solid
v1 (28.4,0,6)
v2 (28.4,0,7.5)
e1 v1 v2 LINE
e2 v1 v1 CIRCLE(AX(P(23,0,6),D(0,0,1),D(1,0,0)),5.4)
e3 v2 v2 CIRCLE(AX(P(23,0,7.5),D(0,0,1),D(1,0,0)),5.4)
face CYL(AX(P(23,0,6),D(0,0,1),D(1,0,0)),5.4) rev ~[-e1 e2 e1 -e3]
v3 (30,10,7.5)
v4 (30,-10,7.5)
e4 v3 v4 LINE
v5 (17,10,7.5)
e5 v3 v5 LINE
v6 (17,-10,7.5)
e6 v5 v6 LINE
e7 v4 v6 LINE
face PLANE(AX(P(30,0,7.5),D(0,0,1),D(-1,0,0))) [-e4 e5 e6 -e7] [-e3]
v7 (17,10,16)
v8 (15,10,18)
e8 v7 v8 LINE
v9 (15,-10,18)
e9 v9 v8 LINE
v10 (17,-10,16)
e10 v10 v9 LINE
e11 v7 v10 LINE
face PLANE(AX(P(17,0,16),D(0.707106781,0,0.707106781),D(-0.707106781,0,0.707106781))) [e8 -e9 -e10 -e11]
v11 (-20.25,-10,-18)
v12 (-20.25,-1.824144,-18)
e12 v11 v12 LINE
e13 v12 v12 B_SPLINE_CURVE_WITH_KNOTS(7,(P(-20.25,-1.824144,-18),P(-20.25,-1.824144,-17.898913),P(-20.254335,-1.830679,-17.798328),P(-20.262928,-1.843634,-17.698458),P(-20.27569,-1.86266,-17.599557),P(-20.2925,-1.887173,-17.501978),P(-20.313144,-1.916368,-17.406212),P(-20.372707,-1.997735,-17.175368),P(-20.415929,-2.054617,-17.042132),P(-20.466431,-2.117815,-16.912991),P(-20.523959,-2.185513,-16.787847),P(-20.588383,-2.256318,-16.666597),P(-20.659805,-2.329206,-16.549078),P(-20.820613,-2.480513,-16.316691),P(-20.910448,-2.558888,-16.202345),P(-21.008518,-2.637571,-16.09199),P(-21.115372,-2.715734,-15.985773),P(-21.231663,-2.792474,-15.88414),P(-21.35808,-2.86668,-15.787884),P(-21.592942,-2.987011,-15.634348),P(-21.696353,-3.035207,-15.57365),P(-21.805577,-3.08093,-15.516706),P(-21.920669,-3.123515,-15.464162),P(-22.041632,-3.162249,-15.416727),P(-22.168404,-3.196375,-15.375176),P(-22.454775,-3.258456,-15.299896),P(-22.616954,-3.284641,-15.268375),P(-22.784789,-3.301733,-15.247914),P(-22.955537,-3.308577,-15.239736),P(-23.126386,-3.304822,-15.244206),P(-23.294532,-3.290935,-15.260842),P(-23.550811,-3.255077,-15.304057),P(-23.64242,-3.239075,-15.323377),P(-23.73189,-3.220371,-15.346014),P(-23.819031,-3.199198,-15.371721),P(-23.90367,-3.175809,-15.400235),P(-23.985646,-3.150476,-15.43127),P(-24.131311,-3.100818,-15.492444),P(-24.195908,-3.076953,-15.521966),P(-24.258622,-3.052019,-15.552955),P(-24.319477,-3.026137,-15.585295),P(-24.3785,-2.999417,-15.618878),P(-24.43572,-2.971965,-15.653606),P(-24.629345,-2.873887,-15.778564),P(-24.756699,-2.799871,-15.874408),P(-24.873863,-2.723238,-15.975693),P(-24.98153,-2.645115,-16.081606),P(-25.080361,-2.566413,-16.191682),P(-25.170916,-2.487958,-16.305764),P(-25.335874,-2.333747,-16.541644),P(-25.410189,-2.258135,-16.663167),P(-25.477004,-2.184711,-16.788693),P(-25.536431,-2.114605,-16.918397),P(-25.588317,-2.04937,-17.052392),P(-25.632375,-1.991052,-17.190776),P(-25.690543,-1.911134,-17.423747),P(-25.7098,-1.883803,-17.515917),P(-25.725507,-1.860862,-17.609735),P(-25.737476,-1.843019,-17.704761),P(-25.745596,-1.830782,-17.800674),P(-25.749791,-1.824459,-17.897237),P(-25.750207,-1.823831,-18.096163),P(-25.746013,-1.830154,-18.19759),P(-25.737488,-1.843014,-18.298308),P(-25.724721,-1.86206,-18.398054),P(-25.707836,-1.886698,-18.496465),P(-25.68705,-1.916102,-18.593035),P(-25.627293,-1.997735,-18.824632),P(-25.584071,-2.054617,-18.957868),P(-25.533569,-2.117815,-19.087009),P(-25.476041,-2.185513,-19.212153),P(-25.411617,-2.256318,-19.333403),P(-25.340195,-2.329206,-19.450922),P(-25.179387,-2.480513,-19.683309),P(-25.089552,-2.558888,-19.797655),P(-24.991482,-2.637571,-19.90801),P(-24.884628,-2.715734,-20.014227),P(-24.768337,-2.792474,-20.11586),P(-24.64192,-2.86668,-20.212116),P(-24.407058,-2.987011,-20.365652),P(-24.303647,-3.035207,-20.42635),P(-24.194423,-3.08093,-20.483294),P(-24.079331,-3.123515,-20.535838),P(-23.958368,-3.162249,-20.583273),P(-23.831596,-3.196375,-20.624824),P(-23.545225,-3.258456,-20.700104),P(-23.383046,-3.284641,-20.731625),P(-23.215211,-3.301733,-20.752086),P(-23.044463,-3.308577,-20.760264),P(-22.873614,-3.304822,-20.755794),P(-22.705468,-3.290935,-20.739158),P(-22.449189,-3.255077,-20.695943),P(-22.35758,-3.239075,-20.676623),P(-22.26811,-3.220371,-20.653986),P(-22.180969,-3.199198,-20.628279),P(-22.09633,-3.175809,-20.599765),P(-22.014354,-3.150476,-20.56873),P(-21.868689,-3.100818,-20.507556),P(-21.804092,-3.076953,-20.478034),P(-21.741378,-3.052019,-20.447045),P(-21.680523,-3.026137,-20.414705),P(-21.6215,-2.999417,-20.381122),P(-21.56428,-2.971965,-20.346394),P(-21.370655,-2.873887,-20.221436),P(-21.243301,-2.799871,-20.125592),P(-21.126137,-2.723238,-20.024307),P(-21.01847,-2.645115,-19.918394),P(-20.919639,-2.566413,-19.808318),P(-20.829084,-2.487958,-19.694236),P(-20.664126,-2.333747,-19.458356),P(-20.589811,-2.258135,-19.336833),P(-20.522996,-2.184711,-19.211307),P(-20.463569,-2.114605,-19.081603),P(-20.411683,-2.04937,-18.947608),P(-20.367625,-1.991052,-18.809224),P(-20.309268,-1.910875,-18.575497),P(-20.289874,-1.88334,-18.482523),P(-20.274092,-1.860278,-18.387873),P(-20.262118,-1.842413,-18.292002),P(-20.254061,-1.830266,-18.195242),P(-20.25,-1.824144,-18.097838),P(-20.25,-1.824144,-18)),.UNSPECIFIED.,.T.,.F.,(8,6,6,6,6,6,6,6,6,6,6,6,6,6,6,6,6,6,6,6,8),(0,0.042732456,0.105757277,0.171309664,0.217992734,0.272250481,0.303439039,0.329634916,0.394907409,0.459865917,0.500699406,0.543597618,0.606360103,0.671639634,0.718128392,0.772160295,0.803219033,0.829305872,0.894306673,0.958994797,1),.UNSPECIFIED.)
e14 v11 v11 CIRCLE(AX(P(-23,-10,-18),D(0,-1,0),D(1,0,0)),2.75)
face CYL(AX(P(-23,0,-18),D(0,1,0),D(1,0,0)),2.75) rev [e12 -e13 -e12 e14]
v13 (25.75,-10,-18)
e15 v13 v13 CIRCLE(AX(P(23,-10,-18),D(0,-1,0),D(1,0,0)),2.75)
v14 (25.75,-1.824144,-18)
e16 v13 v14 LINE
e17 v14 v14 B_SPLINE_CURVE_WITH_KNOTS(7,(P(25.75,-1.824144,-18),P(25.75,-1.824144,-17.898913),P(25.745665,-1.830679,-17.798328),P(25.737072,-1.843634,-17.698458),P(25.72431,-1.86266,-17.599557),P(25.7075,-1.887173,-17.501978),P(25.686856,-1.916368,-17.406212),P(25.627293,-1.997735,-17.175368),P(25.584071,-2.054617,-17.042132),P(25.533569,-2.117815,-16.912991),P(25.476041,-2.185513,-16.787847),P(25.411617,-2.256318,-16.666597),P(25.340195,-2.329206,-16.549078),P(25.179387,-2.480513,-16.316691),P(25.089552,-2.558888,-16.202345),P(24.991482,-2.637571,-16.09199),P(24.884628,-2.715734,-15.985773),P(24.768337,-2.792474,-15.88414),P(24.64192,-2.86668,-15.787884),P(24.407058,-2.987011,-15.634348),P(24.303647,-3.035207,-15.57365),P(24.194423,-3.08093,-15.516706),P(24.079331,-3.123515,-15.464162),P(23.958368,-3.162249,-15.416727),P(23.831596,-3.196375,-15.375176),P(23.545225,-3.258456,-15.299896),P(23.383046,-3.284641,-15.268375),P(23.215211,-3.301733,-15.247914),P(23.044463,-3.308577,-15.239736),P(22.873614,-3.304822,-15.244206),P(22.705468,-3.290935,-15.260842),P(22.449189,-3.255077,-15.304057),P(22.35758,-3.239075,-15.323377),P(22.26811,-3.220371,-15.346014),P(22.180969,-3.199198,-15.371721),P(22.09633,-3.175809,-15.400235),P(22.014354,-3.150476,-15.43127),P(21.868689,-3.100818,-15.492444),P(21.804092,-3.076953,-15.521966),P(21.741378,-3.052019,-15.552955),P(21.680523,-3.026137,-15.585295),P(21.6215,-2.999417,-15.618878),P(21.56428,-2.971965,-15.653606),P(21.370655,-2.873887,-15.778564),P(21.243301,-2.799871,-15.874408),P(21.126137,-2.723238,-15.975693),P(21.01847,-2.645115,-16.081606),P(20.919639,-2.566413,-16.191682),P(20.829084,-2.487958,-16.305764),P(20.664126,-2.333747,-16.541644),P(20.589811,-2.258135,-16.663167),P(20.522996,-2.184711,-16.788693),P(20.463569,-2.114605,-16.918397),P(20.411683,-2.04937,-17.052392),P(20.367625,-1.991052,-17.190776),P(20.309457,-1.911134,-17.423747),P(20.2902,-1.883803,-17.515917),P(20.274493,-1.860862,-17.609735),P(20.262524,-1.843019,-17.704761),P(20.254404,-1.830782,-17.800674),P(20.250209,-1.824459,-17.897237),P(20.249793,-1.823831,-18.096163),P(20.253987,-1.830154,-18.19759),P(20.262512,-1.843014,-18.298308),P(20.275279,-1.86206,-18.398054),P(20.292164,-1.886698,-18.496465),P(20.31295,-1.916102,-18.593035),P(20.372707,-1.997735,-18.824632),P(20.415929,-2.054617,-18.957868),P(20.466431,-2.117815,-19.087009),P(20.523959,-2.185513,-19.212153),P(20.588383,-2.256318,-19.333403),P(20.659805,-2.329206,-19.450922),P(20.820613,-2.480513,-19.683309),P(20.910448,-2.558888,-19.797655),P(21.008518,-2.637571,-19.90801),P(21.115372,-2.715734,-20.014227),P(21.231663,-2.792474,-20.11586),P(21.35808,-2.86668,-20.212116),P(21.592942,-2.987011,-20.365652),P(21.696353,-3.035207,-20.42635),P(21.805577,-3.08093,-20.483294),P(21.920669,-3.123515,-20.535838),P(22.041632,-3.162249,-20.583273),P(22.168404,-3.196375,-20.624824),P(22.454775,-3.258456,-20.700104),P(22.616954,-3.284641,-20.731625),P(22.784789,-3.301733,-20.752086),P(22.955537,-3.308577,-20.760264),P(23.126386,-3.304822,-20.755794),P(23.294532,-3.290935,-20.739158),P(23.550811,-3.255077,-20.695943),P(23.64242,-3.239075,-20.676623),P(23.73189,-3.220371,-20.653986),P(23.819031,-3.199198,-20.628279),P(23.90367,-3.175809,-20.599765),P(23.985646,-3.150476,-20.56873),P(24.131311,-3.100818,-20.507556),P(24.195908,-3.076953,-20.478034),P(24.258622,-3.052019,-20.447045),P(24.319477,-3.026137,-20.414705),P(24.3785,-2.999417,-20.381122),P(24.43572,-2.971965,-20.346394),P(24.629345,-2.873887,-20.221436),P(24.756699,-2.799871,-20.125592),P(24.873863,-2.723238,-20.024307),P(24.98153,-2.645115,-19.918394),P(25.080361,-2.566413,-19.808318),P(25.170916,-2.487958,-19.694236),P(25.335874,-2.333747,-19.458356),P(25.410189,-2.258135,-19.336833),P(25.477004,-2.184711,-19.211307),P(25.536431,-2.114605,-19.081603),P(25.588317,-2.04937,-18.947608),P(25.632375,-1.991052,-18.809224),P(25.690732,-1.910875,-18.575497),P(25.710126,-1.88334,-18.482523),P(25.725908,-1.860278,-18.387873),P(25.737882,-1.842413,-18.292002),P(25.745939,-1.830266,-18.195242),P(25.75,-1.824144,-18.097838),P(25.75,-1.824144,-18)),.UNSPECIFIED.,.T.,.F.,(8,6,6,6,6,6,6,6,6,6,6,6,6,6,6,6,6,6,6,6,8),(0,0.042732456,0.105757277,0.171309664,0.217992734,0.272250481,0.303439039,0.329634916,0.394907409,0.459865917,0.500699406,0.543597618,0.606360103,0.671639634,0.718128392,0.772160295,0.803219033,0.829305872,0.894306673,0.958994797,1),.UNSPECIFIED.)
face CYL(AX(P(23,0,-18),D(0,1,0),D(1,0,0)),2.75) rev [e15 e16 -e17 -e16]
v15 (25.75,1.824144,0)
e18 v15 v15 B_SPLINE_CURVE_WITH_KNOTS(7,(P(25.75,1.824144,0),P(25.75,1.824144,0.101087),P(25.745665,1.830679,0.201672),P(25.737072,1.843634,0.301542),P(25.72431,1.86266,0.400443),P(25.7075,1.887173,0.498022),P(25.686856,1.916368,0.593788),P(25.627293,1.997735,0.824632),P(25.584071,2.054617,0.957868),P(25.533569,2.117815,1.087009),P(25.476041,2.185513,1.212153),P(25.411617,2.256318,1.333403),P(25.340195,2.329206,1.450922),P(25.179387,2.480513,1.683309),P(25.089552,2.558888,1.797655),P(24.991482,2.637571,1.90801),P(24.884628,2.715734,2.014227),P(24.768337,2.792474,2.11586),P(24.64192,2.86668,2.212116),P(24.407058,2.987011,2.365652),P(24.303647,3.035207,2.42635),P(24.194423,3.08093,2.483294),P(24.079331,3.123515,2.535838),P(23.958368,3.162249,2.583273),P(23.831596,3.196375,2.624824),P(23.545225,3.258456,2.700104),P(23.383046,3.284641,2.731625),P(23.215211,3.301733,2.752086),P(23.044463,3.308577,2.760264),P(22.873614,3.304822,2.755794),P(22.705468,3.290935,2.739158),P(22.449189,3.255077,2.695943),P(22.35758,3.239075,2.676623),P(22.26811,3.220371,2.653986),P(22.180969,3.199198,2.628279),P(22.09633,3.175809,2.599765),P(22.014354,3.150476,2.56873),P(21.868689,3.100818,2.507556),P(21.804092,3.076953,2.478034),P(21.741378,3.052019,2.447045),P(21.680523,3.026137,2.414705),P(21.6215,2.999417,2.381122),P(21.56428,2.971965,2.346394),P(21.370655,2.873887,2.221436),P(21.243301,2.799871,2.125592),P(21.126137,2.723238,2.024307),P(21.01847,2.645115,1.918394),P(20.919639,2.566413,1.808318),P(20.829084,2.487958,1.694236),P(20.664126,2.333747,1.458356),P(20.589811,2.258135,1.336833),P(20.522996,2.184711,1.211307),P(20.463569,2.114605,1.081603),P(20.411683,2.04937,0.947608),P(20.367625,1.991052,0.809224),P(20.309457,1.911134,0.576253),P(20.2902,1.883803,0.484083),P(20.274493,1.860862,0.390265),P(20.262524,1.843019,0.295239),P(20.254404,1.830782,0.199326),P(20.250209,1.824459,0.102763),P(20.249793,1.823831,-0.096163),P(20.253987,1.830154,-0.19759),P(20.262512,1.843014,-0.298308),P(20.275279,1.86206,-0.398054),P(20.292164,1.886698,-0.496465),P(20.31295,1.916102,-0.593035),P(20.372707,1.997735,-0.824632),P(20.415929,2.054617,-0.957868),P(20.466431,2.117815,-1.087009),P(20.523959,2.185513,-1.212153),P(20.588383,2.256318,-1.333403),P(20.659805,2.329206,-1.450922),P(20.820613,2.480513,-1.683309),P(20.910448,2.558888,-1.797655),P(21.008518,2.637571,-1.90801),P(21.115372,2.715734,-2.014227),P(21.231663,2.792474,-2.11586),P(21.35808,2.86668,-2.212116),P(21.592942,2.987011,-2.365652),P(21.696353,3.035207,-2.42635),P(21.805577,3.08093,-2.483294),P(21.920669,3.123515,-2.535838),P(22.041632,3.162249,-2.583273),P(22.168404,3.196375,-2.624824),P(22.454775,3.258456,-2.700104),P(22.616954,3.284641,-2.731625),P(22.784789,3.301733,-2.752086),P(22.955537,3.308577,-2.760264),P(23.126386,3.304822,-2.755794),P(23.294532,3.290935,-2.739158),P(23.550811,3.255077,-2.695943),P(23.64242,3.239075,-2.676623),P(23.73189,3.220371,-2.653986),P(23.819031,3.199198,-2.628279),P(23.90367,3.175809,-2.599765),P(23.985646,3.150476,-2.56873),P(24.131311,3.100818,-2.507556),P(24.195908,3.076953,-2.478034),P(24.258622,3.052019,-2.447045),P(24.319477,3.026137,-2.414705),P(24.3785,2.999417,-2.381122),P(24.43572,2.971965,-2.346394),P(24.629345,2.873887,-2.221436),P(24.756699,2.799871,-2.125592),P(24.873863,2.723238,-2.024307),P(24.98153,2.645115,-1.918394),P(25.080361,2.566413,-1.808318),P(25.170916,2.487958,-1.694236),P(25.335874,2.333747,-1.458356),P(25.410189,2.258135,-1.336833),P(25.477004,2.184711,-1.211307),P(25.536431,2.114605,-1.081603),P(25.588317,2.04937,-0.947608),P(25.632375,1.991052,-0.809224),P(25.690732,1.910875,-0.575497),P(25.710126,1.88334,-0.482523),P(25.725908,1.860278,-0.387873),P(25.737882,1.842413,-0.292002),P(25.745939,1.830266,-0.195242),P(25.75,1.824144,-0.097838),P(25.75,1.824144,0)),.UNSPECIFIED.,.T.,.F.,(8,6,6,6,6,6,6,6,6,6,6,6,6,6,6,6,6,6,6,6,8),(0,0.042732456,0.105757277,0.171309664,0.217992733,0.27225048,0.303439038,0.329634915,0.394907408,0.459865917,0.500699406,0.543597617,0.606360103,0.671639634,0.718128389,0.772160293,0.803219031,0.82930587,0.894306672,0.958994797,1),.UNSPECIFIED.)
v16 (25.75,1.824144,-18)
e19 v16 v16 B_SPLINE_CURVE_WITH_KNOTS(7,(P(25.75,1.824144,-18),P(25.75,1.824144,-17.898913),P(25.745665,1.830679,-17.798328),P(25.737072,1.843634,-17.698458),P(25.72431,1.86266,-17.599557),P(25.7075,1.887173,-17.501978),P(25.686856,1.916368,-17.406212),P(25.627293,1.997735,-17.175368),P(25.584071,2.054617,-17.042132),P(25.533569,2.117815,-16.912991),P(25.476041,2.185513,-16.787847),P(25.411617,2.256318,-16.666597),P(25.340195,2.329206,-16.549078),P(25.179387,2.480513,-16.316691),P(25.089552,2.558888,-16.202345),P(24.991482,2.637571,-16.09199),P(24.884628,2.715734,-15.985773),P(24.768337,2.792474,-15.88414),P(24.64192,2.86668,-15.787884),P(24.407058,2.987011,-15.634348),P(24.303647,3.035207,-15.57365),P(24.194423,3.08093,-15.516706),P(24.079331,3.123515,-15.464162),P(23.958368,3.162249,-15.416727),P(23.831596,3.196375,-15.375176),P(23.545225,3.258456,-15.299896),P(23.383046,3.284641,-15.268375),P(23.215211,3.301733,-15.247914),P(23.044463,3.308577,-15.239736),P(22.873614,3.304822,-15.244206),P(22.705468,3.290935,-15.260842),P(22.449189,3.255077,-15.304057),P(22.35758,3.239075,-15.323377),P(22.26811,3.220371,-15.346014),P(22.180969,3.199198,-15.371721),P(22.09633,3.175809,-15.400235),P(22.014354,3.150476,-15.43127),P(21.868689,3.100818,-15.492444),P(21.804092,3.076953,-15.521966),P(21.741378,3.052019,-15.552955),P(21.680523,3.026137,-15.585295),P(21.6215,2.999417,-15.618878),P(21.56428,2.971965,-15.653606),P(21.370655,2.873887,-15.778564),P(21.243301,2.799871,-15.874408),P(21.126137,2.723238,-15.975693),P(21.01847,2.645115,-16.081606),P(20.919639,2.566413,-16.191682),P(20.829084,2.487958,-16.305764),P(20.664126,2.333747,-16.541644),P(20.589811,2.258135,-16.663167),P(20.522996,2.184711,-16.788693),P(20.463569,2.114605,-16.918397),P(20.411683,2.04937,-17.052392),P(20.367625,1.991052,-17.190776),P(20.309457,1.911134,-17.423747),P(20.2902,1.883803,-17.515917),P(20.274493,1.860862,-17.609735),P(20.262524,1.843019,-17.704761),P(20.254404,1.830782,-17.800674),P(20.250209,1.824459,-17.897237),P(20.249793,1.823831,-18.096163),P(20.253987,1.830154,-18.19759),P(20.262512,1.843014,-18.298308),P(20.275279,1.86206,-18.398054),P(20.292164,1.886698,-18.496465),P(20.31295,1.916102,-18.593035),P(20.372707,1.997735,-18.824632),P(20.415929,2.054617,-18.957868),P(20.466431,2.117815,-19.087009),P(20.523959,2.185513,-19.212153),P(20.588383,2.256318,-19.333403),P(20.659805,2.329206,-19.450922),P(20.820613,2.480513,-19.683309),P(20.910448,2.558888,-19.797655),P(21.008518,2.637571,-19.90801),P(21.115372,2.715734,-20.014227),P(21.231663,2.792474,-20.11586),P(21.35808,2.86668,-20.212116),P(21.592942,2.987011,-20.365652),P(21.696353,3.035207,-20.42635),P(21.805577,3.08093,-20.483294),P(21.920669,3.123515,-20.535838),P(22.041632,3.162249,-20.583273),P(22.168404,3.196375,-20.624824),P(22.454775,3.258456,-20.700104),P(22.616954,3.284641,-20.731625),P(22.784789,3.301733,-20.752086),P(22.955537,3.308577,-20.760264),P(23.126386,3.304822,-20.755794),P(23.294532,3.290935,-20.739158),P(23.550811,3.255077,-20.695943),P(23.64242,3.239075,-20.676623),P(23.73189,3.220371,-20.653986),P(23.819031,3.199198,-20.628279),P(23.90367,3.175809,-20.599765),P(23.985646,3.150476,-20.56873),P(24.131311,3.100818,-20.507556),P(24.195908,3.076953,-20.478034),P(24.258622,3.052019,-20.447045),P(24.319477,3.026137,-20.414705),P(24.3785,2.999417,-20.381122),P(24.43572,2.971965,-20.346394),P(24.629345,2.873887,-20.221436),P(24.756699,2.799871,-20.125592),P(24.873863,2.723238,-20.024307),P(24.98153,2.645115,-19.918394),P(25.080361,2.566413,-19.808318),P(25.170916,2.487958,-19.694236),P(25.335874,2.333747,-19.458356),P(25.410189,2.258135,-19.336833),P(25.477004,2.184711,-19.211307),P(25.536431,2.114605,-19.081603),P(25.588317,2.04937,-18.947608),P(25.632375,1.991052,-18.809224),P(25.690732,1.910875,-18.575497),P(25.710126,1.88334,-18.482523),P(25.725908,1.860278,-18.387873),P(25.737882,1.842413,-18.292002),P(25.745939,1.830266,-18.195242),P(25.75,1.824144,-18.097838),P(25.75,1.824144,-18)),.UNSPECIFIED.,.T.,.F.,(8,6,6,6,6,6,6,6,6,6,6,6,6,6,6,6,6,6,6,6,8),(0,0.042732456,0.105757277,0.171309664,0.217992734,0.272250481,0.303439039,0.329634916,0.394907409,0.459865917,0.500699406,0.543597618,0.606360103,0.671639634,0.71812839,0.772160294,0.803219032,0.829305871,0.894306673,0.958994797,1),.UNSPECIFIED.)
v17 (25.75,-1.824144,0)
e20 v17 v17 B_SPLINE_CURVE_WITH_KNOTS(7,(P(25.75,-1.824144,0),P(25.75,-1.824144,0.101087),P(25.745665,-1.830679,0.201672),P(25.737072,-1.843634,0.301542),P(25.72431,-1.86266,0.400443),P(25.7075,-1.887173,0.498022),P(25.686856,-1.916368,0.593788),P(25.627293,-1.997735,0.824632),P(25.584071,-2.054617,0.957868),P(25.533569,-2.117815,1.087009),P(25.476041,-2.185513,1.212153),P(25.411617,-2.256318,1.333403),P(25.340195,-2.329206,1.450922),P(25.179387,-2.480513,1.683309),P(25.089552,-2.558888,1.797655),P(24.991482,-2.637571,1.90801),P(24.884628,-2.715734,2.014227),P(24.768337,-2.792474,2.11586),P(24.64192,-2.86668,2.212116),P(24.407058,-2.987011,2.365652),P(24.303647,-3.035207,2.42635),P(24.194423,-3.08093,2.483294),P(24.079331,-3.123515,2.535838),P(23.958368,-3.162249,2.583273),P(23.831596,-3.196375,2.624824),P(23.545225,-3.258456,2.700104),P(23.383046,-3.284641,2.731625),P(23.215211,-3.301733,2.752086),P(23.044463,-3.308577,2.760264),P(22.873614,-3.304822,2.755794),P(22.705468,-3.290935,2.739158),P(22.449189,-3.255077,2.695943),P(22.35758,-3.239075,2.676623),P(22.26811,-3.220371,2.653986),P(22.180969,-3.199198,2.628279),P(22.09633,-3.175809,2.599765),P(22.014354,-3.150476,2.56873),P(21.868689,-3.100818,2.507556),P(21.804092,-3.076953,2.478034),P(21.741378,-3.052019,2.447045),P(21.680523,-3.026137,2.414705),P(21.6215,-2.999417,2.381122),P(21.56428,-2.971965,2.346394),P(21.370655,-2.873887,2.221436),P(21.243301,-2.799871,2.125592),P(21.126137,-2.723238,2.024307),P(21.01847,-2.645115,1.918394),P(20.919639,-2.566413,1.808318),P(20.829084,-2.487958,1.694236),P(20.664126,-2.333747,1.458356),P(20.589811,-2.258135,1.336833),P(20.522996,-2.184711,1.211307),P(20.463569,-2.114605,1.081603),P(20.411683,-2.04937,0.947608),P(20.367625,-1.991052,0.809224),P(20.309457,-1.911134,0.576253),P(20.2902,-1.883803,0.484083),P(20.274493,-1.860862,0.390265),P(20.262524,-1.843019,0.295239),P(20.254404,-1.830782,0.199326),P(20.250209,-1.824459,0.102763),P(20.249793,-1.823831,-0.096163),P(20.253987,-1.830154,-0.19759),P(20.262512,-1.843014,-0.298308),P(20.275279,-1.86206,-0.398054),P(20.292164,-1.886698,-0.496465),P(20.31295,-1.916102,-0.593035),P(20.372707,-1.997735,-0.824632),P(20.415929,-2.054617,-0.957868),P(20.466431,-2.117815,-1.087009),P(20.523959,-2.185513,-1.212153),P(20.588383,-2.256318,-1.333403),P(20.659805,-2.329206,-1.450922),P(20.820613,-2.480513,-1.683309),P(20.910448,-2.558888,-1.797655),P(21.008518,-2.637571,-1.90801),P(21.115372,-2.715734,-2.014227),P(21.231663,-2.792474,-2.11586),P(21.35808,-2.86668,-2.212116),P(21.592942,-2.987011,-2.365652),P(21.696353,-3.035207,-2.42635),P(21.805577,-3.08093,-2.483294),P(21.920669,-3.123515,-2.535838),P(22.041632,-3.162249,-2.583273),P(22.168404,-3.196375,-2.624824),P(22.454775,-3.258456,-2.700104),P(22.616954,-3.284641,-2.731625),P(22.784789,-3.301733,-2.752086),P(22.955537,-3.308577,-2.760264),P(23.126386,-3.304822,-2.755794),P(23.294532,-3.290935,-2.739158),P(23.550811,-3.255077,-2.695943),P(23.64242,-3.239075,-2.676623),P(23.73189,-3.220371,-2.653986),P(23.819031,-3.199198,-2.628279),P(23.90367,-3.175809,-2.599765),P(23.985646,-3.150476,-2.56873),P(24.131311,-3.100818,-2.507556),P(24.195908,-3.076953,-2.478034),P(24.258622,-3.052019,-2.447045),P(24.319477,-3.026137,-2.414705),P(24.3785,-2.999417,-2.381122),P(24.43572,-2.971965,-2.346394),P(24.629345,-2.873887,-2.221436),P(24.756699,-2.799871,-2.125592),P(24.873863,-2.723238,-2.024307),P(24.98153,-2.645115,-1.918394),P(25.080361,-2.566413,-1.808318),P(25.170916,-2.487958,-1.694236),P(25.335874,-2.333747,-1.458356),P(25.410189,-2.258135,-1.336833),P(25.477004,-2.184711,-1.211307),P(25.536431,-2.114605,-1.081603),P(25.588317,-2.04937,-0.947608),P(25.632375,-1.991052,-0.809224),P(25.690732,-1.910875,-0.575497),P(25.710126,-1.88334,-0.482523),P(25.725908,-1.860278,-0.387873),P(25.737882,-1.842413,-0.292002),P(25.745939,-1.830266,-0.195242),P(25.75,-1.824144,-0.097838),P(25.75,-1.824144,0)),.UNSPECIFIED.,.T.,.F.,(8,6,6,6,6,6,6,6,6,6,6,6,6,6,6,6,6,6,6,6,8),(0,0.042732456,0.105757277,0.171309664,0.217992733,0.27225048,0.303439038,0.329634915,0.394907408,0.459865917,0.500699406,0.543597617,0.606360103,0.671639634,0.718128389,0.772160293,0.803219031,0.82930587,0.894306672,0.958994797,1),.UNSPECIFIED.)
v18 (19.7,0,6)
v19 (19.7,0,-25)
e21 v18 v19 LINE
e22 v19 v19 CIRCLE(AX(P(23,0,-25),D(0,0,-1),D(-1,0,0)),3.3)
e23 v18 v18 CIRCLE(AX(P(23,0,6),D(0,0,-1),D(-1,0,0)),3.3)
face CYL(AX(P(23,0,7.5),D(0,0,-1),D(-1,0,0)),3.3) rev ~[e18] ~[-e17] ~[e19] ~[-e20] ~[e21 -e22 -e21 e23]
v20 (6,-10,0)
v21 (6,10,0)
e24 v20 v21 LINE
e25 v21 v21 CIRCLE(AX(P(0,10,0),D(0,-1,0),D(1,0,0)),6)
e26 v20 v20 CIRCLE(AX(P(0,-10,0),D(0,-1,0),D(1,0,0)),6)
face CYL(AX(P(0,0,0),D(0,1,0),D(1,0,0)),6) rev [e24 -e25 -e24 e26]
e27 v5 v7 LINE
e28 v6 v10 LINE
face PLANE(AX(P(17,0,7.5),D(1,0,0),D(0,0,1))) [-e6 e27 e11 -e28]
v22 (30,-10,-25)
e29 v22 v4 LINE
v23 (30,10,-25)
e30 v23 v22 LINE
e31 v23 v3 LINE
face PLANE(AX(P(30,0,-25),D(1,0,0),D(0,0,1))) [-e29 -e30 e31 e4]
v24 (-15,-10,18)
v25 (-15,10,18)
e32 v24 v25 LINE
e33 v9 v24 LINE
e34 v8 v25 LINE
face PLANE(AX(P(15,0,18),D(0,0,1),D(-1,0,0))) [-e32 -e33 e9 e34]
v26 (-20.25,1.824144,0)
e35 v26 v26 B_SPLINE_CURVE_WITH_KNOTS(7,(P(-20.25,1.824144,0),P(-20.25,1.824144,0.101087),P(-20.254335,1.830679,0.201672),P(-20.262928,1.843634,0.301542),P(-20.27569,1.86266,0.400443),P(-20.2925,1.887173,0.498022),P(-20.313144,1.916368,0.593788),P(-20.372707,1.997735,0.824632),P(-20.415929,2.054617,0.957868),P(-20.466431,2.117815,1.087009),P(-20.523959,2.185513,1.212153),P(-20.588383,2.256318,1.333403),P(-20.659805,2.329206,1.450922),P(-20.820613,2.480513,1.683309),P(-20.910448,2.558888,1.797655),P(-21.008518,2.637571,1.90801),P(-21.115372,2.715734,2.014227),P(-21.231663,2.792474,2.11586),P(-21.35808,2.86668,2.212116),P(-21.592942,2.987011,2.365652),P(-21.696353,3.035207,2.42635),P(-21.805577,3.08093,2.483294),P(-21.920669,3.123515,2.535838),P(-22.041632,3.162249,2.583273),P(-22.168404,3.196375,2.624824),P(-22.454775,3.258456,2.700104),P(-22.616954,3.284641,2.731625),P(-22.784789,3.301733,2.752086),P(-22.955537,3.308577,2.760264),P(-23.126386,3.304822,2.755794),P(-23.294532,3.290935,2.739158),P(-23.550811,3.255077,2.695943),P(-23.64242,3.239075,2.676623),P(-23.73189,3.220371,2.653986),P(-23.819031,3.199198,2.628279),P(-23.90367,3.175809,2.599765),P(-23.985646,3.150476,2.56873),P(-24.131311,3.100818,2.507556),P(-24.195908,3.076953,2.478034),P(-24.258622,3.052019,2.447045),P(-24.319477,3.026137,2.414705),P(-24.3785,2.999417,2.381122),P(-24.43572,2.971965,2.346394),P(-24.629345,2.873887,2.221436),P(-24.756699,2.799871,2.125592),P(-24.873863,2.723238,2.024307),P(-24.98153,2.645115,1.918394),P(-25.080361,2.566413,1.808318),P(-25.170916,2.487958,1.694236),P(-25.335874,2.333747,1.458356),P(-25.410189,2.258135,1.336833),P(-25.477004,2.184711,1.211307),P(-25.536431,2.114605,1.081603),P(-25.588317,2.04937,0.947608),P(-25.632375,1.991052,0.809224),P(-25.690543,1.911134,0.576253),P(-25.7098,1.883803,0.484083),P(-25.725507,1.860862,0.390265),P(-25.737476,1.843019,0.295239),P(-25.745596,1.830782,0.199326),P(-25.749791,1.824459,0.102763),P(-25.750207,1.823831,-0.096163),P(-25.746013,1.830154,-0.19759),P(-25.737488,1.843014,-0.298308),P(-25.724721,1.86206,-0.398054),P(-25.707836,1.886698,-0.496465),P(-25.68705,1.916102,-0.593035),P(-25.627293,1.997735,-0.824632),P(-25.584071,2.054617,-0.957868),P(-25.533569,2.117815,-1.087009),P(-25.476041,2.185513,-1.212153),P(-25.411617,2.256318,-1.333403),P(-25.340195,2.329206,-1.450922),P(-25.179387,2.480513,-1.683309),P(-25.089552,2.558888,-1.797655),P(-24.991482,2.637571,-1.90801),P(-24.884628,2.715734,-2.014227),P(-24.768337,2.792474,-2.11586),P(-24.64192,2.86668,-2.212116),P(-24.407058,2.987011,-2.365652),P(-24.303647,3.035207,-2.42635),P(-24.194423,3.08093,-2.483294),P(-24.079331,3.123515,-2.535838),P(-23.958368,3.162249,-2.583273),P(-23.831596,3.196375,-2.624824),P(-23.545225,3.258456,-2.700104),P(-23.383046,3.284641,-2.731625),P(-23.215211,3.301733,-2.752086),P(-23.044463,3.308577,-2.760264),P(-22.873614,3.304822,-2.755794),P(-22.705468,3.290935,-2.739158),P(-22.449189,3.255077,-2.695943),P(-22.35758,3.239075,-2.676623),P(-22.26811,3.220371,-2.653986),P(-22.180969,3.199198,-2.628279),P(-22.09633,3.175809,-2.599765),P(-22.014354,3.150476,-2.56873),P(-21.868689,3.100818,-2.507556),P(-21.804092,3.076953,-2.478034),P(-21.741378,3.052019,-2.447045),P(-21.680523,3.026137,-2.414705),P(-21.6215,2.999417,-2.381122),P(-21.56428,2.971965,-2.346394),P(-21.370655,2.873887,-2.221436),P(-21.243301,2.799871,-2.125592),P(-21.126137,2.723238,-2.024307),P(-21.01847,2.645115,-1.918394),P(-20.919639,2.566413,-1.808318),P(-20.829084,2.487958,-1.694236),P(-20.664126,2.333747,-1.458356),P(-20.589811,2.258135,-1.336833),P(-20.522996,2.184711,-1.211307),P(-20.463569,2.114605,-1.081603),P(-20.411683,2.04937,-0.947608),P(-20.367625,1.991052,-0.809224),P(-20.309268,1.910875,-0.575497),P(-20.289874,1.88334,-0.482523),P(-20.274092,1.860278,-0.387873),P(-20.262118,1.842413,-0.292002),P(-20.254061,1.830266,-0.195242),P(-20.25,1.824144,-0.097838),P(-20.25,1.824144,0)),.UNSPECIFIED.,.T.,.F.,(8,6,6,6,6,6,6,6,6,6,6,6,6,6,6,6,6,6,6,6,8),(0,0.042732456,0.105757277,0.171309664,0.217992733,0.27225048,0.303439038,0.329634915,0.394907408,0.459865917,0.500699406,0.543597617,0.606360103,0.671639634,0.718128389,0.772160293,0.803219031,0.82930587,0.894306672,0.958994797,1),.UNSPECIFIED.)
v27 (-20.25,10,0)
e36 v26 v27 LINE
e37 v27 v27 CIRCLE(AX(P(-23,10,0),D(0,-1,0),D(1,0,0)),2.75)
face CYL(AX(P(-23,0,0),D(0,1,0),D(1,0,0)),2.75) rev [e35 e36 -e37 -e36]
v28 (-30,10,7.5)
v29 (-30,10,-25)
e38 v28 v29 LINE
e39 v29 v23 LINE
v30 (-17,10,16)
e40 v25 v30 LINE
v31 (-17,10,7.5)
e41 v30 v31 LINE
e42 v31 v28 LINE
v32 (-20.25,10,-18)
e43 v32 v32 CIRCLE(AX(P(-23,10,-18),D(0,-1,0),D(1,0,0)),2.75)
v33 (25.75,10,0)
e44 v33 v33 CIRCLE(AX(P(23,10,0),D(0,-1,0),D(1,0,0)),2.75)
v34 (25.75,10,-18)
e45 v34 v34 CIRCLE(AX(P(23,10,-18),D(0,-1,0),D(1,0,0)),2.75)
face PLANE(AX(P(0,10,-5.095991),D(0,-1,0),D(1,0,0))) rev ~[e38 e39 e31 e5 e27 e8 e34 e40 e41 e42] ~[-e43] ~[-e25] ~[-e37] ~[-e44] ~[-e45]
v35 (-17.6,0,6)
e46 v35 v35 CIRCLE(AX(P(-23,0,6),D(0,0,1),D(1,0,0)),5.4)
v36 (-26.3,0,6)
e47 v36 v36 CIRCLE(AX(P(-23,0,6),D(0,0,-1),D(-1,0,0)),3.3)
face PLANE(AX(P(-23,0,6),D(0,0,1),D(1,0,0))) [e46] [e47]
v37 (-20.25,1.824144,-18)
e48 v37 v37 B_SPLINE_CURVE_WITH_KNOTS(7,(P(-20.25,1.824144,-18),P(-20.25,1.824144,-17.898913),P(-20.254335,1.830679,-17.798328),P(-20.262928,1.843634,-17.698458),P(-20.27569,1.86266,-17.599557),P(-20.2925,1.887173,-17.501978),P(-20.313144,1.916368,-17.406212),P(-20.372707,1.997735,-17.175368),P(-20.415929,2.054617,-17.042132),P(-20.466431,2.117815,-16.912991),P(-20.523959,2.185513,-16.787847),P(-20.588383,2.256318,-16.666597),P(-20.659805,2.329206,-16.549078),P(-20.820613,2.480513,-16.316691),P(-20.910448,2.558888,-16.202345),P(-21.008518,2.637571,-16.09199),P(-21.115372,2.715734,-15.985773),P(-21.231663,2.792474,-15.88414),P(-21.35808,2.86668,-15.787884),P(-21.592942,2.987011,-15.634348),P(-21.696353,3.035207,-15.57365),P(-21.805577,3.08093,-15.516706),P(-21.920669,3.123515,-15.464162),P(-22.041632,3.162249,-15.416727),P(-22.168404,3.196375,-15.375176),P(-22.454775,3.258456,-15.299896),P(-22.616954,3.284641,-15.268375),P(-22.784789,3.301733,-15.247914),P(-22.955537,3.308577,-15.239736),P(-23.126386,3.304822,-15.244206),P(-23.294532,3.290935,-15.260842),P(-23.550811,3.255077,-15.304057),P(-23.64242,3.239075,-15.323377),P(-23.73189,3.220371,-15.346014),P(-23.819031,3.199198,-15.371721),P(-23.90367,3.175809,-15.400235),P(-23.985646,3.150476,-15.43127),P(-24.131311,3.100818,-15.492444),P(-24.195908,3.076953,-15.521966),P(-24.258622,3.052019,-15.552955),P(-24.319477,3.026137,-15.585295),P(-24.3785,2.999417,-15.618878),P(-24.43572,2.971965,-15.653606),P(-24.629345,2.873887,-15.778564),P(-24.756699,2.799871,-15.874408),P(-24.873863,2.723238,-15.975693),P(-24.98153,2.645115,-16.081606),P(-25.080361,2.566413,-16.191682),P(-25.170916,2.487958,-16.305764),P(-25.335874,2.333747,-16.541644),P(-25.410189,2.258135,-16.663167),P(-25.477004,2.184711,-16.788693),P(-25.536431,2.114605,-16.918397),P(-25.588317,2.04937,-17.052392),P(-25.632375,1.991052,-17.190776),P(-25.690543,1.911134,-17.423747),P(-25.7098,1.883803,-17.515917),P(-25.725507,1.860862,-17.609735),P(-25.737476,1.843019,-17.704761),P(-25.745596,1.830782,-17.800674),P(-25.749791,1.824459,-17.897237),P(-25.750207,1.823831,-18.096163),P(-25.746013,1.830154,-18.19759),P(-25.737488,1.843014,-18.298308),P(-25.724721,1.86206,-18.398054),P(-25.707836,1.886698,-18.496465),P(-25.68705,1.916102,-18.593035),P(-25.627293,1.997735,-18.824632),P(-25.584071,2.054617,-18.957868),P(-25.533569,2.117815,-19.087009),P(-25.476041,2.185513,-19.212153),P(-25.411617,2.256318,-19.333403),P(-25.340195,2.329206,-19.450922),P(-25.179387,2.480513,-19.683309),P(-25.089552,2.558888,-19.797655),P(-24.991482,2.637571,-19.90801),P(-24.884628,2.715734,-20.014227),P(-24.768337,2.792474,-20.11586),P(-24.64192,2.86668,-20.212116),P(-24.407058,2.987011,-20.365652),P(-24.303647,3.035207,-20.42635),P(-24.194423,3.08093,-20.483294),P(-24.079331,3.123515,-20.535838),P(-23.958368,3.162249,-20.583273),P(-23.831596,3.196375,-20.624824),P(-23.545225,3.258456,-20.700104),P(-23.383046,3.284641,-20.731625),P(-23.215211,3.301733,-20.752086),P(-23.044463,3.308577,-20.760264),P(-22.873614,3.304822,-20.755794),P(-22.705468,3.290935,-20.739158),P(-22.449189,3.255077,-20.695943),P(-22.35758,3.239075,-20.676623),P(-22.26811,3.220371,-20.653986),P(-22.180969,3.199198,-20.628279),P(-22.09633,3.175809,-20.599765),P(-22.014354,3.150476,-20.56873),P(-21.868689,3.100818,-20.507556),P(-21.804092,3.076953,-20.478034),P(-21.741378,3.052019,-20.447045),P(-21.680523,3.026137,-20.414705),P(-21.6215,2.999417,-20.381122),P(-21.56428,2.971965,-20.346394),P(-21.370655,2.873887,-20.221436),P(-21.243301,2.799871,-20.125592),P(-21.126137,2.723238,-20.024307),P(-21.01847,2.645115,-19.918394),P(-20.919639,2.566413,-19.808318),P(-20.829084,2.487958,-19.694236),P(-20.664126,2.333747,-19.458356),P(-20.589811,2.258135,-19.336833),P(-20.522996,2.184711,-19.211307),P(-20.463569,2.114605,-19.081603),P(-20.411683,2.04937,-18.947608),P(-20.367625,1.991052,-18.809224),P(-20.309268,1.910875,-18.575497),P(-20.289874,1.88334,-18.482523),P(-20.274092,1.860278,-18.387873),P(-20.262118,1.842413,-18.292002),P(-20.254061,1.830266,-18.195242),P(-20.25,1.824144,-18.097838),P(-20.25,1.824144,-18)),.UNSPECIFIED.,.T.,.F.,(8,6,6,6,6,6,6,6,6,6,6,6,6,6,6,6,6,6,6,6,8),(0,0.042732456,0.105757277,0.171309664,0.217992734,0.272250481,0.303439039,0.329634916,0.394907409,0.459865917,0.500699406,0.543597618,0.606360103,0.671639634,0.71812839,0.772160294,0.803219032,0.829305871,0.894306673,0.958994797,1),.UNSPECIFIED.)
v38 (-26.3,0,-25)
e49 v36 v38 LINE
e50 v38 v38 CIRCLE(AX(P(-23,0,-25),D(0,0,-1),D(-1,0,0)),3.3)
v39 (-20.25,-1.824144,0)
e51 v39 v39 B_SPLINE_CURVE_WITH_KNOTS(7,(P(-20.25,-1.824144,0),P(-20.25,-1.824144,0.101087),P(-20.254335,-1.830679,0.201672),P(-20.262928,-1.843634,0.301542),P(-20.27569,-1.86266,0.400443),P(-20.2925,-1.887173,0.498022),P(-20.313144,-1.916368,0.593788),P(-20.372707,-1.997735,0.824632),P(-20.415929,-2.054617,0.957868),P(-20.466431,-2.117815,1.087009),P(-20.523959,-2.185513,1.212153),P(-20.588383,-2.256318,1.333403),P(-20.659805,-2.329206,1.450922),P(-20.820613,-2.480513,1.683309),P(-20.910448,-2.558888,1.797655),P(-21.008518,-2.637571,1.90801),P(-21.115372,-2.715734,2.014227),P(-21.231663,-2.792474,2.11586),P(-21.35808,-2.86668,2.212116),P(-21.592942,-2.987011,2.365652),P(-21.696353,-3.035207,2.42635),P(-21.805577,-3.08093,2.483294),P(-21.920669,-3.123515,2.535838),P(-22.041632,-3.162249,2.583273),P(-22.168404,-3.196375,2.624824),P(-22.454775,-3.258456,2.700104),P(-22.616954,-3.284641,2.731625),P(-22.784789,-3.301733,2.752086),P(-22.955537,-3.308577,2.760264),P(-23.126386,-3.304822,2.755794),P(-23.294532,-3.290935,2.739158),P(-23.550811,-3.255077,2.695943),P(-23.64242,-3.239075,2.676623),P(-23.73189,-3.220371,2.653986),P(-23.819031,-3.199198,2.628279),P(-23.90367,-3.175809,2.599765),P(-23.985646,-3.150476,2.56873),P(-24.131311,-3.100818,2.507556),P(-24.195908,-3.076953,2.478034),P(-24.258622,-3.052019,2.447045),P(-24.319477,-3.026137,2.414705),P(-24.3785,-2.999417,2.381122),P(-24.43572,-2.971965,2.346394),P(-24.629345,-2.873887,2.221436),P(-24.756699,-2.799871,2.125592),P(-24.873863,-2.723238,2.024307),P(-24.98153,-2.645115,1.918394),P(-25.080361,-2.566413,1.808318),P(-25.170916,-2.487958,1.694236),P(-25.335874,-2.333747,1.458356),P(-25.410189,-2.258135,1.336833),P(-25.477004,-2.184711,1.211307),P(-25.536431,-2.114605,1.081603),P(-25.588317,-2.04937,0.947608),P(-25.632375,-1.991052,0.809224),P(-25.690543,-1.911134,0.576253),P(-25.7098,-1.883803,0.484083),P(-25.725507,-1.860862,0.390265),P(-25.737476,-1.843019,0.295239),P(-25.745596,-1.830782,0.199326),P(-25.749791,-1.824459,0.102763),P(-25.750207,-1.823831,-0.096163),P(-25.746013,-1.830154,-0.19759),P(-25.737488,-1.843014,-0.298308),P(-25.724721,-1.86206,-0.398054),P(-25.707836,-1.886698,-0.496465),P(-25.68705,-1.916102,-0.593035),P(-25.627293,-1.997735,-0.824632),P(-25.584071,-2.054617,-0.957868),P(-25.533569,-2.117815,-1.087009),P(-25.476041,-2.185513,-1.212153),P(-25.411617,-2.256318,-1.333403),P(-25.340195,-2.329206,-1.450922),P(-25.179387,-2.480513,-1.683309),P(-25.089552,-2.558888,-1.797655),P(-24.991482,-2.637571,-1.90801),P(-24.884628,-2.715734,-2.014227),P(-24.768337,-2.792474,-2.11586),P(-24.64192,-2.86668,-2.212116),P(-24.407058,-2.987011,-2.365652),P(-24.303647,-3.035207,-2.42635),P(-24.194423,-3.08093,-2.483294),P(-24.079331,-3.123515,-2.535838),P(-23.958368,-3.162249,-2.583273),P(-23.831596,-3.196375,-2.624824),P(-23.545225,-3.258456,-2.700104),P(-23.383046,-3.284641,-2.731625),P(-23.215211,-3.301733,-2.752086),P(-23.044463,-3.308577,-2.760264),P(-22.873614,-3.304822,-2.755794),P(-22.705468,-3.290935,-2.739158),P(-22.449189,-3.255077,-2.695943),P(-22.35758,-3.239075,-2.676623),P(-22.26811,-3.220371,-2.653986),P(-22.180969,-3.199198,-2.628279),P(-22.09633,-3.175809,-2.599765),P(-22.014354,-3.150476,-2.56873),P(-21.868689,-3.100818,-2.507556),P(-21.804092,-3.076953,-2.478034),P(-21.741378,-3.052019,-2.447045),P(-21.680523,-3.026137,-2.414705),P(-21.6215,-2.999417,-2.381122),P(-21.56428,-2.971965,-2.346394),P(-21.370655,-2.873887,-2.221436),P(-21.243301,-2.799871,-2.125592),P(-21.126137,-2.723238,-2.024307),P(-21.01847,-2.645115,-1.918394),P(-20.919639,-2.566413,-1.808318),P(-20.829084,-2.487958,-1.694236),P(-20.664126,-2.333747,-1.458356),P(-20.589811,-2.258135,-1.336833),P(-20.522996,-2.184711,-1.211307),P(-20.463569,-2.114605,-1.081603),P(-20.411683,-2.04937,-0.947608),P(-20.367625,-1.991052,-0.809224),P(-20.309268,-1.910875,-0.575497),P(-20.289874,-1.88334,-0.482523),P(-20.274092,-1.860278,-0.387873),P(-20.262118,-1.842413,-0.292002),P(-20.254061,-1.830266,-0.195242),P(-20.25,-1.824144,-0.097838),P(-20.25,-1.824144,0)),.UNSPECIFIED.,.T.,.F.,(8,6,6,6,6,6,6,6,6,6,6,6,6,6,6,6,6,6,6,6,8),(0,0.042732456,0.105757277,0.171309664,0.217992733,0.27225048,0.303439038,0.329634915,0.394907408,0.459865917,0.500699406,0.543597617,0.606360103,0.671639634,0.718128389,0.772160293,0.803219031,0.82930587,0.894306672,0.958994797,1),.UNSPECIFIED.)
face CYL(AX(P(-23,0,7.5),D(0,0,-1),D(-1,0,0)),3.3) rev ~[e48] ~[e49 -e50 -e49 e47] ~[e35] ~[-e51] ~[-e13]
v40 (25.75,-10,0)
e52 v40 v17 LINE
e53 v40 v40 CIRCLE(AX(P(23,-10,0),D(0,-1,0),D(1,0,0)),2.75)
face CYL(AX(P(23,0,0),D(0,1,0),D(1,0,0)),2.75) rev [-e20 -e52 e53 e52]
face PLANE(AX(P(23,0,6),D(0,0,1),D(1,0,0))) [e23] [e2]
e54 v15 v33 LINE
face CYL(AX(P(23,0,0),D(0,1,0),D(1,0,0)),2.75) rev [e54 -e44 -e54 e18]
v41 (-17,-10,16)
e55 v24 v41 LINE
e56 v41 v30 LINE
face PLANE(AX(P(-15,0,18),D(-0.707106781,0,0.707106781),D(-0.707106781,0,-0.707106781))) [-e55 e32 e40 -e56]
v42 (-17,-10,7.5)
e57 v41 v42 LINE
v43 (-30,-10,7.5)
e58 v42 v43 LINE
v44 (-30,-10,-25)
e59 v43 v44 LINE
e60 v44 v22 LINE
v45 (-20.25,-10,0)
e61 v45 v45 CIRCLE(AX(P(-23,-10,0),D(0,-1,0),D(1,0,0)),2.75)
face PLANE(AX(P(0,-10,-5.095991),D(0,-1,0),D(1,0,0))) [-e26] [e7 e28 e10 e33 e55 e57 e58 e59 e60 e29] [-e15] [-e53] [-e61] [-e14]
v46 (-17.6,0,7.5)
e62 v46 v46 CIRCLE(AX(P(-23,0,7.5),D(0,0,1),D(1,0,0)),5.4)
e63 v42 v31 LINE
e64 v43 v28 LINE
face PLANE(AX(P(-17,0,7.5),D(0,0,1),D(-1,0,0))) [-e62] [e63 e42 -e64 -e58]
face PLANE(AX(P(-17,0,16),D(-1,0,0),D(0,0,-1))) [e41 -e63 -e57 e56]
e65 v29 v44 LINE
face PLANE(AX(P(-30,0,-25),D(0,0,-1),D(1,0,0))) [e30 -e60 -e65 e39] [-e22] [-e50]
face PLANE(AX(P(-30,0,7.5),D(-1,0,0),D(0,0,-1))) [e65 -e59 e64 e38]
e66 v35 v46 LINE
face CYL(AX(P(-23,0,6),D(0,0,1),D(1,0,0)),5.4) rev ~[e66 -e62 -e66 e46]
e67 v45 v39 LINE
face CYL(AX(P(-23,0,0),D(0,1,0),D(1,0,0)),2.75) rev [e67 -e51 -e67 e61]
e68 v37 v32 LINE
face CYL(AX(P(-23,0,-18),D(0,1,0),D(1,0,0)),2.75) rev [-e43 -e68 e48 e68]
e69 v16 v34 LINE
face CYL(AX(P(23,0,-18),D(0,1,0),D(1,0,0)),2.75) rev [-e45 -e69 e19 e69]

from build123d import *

# Parameters (mm, degrees)
F0_R           = 2.75
F0_R_2         = 6
F1_DEPTH       = 10
F3_D           = 6.6
F3_CBORE_D     = 10.8
F3_CBORE_DEPTH = 1.5


with BuildPart() as f1:
    # F0 (on Front) → F1 (new body, symmetric)
    with BuildSketch(Plane.XZ):
        Polygon((-30, 7.5), (-30, -25), (30, -25), (30, 7.5), (17, 7.5), (17, 16), (15, 18), (-15, 18), (-17, 16), (-17, 7.5), align=None)
        with Locations((-23, -18)):
            Circle(F0_R, mode=Mode.SUBTRACT)
        with Locations((23, -18)):
            Circle(F0_R, mode=Mode.SUBTRACT)
        with Locations((-23, 0)):
            Circle(F0_R, mode=Mode.SUBTRACT)
        Circle(F0_R_2, mode=Mode.SUBTRACT)
        with Locations((23, 0)):
            Circle(F0_R, mode=Mode.SUBTRACT)
    extrude(amount=F1_DEPTH, both=True)

    # F3 (through all)
    with Locations(Plane.XY.offset(7.5)):
        with Locations((-23, 0), (23, 0)):
            CounterBoreHole(F3_D / 2, F3_CBORE_D / 2, F3_CBORE_DEPTH)


solid = f1.part
